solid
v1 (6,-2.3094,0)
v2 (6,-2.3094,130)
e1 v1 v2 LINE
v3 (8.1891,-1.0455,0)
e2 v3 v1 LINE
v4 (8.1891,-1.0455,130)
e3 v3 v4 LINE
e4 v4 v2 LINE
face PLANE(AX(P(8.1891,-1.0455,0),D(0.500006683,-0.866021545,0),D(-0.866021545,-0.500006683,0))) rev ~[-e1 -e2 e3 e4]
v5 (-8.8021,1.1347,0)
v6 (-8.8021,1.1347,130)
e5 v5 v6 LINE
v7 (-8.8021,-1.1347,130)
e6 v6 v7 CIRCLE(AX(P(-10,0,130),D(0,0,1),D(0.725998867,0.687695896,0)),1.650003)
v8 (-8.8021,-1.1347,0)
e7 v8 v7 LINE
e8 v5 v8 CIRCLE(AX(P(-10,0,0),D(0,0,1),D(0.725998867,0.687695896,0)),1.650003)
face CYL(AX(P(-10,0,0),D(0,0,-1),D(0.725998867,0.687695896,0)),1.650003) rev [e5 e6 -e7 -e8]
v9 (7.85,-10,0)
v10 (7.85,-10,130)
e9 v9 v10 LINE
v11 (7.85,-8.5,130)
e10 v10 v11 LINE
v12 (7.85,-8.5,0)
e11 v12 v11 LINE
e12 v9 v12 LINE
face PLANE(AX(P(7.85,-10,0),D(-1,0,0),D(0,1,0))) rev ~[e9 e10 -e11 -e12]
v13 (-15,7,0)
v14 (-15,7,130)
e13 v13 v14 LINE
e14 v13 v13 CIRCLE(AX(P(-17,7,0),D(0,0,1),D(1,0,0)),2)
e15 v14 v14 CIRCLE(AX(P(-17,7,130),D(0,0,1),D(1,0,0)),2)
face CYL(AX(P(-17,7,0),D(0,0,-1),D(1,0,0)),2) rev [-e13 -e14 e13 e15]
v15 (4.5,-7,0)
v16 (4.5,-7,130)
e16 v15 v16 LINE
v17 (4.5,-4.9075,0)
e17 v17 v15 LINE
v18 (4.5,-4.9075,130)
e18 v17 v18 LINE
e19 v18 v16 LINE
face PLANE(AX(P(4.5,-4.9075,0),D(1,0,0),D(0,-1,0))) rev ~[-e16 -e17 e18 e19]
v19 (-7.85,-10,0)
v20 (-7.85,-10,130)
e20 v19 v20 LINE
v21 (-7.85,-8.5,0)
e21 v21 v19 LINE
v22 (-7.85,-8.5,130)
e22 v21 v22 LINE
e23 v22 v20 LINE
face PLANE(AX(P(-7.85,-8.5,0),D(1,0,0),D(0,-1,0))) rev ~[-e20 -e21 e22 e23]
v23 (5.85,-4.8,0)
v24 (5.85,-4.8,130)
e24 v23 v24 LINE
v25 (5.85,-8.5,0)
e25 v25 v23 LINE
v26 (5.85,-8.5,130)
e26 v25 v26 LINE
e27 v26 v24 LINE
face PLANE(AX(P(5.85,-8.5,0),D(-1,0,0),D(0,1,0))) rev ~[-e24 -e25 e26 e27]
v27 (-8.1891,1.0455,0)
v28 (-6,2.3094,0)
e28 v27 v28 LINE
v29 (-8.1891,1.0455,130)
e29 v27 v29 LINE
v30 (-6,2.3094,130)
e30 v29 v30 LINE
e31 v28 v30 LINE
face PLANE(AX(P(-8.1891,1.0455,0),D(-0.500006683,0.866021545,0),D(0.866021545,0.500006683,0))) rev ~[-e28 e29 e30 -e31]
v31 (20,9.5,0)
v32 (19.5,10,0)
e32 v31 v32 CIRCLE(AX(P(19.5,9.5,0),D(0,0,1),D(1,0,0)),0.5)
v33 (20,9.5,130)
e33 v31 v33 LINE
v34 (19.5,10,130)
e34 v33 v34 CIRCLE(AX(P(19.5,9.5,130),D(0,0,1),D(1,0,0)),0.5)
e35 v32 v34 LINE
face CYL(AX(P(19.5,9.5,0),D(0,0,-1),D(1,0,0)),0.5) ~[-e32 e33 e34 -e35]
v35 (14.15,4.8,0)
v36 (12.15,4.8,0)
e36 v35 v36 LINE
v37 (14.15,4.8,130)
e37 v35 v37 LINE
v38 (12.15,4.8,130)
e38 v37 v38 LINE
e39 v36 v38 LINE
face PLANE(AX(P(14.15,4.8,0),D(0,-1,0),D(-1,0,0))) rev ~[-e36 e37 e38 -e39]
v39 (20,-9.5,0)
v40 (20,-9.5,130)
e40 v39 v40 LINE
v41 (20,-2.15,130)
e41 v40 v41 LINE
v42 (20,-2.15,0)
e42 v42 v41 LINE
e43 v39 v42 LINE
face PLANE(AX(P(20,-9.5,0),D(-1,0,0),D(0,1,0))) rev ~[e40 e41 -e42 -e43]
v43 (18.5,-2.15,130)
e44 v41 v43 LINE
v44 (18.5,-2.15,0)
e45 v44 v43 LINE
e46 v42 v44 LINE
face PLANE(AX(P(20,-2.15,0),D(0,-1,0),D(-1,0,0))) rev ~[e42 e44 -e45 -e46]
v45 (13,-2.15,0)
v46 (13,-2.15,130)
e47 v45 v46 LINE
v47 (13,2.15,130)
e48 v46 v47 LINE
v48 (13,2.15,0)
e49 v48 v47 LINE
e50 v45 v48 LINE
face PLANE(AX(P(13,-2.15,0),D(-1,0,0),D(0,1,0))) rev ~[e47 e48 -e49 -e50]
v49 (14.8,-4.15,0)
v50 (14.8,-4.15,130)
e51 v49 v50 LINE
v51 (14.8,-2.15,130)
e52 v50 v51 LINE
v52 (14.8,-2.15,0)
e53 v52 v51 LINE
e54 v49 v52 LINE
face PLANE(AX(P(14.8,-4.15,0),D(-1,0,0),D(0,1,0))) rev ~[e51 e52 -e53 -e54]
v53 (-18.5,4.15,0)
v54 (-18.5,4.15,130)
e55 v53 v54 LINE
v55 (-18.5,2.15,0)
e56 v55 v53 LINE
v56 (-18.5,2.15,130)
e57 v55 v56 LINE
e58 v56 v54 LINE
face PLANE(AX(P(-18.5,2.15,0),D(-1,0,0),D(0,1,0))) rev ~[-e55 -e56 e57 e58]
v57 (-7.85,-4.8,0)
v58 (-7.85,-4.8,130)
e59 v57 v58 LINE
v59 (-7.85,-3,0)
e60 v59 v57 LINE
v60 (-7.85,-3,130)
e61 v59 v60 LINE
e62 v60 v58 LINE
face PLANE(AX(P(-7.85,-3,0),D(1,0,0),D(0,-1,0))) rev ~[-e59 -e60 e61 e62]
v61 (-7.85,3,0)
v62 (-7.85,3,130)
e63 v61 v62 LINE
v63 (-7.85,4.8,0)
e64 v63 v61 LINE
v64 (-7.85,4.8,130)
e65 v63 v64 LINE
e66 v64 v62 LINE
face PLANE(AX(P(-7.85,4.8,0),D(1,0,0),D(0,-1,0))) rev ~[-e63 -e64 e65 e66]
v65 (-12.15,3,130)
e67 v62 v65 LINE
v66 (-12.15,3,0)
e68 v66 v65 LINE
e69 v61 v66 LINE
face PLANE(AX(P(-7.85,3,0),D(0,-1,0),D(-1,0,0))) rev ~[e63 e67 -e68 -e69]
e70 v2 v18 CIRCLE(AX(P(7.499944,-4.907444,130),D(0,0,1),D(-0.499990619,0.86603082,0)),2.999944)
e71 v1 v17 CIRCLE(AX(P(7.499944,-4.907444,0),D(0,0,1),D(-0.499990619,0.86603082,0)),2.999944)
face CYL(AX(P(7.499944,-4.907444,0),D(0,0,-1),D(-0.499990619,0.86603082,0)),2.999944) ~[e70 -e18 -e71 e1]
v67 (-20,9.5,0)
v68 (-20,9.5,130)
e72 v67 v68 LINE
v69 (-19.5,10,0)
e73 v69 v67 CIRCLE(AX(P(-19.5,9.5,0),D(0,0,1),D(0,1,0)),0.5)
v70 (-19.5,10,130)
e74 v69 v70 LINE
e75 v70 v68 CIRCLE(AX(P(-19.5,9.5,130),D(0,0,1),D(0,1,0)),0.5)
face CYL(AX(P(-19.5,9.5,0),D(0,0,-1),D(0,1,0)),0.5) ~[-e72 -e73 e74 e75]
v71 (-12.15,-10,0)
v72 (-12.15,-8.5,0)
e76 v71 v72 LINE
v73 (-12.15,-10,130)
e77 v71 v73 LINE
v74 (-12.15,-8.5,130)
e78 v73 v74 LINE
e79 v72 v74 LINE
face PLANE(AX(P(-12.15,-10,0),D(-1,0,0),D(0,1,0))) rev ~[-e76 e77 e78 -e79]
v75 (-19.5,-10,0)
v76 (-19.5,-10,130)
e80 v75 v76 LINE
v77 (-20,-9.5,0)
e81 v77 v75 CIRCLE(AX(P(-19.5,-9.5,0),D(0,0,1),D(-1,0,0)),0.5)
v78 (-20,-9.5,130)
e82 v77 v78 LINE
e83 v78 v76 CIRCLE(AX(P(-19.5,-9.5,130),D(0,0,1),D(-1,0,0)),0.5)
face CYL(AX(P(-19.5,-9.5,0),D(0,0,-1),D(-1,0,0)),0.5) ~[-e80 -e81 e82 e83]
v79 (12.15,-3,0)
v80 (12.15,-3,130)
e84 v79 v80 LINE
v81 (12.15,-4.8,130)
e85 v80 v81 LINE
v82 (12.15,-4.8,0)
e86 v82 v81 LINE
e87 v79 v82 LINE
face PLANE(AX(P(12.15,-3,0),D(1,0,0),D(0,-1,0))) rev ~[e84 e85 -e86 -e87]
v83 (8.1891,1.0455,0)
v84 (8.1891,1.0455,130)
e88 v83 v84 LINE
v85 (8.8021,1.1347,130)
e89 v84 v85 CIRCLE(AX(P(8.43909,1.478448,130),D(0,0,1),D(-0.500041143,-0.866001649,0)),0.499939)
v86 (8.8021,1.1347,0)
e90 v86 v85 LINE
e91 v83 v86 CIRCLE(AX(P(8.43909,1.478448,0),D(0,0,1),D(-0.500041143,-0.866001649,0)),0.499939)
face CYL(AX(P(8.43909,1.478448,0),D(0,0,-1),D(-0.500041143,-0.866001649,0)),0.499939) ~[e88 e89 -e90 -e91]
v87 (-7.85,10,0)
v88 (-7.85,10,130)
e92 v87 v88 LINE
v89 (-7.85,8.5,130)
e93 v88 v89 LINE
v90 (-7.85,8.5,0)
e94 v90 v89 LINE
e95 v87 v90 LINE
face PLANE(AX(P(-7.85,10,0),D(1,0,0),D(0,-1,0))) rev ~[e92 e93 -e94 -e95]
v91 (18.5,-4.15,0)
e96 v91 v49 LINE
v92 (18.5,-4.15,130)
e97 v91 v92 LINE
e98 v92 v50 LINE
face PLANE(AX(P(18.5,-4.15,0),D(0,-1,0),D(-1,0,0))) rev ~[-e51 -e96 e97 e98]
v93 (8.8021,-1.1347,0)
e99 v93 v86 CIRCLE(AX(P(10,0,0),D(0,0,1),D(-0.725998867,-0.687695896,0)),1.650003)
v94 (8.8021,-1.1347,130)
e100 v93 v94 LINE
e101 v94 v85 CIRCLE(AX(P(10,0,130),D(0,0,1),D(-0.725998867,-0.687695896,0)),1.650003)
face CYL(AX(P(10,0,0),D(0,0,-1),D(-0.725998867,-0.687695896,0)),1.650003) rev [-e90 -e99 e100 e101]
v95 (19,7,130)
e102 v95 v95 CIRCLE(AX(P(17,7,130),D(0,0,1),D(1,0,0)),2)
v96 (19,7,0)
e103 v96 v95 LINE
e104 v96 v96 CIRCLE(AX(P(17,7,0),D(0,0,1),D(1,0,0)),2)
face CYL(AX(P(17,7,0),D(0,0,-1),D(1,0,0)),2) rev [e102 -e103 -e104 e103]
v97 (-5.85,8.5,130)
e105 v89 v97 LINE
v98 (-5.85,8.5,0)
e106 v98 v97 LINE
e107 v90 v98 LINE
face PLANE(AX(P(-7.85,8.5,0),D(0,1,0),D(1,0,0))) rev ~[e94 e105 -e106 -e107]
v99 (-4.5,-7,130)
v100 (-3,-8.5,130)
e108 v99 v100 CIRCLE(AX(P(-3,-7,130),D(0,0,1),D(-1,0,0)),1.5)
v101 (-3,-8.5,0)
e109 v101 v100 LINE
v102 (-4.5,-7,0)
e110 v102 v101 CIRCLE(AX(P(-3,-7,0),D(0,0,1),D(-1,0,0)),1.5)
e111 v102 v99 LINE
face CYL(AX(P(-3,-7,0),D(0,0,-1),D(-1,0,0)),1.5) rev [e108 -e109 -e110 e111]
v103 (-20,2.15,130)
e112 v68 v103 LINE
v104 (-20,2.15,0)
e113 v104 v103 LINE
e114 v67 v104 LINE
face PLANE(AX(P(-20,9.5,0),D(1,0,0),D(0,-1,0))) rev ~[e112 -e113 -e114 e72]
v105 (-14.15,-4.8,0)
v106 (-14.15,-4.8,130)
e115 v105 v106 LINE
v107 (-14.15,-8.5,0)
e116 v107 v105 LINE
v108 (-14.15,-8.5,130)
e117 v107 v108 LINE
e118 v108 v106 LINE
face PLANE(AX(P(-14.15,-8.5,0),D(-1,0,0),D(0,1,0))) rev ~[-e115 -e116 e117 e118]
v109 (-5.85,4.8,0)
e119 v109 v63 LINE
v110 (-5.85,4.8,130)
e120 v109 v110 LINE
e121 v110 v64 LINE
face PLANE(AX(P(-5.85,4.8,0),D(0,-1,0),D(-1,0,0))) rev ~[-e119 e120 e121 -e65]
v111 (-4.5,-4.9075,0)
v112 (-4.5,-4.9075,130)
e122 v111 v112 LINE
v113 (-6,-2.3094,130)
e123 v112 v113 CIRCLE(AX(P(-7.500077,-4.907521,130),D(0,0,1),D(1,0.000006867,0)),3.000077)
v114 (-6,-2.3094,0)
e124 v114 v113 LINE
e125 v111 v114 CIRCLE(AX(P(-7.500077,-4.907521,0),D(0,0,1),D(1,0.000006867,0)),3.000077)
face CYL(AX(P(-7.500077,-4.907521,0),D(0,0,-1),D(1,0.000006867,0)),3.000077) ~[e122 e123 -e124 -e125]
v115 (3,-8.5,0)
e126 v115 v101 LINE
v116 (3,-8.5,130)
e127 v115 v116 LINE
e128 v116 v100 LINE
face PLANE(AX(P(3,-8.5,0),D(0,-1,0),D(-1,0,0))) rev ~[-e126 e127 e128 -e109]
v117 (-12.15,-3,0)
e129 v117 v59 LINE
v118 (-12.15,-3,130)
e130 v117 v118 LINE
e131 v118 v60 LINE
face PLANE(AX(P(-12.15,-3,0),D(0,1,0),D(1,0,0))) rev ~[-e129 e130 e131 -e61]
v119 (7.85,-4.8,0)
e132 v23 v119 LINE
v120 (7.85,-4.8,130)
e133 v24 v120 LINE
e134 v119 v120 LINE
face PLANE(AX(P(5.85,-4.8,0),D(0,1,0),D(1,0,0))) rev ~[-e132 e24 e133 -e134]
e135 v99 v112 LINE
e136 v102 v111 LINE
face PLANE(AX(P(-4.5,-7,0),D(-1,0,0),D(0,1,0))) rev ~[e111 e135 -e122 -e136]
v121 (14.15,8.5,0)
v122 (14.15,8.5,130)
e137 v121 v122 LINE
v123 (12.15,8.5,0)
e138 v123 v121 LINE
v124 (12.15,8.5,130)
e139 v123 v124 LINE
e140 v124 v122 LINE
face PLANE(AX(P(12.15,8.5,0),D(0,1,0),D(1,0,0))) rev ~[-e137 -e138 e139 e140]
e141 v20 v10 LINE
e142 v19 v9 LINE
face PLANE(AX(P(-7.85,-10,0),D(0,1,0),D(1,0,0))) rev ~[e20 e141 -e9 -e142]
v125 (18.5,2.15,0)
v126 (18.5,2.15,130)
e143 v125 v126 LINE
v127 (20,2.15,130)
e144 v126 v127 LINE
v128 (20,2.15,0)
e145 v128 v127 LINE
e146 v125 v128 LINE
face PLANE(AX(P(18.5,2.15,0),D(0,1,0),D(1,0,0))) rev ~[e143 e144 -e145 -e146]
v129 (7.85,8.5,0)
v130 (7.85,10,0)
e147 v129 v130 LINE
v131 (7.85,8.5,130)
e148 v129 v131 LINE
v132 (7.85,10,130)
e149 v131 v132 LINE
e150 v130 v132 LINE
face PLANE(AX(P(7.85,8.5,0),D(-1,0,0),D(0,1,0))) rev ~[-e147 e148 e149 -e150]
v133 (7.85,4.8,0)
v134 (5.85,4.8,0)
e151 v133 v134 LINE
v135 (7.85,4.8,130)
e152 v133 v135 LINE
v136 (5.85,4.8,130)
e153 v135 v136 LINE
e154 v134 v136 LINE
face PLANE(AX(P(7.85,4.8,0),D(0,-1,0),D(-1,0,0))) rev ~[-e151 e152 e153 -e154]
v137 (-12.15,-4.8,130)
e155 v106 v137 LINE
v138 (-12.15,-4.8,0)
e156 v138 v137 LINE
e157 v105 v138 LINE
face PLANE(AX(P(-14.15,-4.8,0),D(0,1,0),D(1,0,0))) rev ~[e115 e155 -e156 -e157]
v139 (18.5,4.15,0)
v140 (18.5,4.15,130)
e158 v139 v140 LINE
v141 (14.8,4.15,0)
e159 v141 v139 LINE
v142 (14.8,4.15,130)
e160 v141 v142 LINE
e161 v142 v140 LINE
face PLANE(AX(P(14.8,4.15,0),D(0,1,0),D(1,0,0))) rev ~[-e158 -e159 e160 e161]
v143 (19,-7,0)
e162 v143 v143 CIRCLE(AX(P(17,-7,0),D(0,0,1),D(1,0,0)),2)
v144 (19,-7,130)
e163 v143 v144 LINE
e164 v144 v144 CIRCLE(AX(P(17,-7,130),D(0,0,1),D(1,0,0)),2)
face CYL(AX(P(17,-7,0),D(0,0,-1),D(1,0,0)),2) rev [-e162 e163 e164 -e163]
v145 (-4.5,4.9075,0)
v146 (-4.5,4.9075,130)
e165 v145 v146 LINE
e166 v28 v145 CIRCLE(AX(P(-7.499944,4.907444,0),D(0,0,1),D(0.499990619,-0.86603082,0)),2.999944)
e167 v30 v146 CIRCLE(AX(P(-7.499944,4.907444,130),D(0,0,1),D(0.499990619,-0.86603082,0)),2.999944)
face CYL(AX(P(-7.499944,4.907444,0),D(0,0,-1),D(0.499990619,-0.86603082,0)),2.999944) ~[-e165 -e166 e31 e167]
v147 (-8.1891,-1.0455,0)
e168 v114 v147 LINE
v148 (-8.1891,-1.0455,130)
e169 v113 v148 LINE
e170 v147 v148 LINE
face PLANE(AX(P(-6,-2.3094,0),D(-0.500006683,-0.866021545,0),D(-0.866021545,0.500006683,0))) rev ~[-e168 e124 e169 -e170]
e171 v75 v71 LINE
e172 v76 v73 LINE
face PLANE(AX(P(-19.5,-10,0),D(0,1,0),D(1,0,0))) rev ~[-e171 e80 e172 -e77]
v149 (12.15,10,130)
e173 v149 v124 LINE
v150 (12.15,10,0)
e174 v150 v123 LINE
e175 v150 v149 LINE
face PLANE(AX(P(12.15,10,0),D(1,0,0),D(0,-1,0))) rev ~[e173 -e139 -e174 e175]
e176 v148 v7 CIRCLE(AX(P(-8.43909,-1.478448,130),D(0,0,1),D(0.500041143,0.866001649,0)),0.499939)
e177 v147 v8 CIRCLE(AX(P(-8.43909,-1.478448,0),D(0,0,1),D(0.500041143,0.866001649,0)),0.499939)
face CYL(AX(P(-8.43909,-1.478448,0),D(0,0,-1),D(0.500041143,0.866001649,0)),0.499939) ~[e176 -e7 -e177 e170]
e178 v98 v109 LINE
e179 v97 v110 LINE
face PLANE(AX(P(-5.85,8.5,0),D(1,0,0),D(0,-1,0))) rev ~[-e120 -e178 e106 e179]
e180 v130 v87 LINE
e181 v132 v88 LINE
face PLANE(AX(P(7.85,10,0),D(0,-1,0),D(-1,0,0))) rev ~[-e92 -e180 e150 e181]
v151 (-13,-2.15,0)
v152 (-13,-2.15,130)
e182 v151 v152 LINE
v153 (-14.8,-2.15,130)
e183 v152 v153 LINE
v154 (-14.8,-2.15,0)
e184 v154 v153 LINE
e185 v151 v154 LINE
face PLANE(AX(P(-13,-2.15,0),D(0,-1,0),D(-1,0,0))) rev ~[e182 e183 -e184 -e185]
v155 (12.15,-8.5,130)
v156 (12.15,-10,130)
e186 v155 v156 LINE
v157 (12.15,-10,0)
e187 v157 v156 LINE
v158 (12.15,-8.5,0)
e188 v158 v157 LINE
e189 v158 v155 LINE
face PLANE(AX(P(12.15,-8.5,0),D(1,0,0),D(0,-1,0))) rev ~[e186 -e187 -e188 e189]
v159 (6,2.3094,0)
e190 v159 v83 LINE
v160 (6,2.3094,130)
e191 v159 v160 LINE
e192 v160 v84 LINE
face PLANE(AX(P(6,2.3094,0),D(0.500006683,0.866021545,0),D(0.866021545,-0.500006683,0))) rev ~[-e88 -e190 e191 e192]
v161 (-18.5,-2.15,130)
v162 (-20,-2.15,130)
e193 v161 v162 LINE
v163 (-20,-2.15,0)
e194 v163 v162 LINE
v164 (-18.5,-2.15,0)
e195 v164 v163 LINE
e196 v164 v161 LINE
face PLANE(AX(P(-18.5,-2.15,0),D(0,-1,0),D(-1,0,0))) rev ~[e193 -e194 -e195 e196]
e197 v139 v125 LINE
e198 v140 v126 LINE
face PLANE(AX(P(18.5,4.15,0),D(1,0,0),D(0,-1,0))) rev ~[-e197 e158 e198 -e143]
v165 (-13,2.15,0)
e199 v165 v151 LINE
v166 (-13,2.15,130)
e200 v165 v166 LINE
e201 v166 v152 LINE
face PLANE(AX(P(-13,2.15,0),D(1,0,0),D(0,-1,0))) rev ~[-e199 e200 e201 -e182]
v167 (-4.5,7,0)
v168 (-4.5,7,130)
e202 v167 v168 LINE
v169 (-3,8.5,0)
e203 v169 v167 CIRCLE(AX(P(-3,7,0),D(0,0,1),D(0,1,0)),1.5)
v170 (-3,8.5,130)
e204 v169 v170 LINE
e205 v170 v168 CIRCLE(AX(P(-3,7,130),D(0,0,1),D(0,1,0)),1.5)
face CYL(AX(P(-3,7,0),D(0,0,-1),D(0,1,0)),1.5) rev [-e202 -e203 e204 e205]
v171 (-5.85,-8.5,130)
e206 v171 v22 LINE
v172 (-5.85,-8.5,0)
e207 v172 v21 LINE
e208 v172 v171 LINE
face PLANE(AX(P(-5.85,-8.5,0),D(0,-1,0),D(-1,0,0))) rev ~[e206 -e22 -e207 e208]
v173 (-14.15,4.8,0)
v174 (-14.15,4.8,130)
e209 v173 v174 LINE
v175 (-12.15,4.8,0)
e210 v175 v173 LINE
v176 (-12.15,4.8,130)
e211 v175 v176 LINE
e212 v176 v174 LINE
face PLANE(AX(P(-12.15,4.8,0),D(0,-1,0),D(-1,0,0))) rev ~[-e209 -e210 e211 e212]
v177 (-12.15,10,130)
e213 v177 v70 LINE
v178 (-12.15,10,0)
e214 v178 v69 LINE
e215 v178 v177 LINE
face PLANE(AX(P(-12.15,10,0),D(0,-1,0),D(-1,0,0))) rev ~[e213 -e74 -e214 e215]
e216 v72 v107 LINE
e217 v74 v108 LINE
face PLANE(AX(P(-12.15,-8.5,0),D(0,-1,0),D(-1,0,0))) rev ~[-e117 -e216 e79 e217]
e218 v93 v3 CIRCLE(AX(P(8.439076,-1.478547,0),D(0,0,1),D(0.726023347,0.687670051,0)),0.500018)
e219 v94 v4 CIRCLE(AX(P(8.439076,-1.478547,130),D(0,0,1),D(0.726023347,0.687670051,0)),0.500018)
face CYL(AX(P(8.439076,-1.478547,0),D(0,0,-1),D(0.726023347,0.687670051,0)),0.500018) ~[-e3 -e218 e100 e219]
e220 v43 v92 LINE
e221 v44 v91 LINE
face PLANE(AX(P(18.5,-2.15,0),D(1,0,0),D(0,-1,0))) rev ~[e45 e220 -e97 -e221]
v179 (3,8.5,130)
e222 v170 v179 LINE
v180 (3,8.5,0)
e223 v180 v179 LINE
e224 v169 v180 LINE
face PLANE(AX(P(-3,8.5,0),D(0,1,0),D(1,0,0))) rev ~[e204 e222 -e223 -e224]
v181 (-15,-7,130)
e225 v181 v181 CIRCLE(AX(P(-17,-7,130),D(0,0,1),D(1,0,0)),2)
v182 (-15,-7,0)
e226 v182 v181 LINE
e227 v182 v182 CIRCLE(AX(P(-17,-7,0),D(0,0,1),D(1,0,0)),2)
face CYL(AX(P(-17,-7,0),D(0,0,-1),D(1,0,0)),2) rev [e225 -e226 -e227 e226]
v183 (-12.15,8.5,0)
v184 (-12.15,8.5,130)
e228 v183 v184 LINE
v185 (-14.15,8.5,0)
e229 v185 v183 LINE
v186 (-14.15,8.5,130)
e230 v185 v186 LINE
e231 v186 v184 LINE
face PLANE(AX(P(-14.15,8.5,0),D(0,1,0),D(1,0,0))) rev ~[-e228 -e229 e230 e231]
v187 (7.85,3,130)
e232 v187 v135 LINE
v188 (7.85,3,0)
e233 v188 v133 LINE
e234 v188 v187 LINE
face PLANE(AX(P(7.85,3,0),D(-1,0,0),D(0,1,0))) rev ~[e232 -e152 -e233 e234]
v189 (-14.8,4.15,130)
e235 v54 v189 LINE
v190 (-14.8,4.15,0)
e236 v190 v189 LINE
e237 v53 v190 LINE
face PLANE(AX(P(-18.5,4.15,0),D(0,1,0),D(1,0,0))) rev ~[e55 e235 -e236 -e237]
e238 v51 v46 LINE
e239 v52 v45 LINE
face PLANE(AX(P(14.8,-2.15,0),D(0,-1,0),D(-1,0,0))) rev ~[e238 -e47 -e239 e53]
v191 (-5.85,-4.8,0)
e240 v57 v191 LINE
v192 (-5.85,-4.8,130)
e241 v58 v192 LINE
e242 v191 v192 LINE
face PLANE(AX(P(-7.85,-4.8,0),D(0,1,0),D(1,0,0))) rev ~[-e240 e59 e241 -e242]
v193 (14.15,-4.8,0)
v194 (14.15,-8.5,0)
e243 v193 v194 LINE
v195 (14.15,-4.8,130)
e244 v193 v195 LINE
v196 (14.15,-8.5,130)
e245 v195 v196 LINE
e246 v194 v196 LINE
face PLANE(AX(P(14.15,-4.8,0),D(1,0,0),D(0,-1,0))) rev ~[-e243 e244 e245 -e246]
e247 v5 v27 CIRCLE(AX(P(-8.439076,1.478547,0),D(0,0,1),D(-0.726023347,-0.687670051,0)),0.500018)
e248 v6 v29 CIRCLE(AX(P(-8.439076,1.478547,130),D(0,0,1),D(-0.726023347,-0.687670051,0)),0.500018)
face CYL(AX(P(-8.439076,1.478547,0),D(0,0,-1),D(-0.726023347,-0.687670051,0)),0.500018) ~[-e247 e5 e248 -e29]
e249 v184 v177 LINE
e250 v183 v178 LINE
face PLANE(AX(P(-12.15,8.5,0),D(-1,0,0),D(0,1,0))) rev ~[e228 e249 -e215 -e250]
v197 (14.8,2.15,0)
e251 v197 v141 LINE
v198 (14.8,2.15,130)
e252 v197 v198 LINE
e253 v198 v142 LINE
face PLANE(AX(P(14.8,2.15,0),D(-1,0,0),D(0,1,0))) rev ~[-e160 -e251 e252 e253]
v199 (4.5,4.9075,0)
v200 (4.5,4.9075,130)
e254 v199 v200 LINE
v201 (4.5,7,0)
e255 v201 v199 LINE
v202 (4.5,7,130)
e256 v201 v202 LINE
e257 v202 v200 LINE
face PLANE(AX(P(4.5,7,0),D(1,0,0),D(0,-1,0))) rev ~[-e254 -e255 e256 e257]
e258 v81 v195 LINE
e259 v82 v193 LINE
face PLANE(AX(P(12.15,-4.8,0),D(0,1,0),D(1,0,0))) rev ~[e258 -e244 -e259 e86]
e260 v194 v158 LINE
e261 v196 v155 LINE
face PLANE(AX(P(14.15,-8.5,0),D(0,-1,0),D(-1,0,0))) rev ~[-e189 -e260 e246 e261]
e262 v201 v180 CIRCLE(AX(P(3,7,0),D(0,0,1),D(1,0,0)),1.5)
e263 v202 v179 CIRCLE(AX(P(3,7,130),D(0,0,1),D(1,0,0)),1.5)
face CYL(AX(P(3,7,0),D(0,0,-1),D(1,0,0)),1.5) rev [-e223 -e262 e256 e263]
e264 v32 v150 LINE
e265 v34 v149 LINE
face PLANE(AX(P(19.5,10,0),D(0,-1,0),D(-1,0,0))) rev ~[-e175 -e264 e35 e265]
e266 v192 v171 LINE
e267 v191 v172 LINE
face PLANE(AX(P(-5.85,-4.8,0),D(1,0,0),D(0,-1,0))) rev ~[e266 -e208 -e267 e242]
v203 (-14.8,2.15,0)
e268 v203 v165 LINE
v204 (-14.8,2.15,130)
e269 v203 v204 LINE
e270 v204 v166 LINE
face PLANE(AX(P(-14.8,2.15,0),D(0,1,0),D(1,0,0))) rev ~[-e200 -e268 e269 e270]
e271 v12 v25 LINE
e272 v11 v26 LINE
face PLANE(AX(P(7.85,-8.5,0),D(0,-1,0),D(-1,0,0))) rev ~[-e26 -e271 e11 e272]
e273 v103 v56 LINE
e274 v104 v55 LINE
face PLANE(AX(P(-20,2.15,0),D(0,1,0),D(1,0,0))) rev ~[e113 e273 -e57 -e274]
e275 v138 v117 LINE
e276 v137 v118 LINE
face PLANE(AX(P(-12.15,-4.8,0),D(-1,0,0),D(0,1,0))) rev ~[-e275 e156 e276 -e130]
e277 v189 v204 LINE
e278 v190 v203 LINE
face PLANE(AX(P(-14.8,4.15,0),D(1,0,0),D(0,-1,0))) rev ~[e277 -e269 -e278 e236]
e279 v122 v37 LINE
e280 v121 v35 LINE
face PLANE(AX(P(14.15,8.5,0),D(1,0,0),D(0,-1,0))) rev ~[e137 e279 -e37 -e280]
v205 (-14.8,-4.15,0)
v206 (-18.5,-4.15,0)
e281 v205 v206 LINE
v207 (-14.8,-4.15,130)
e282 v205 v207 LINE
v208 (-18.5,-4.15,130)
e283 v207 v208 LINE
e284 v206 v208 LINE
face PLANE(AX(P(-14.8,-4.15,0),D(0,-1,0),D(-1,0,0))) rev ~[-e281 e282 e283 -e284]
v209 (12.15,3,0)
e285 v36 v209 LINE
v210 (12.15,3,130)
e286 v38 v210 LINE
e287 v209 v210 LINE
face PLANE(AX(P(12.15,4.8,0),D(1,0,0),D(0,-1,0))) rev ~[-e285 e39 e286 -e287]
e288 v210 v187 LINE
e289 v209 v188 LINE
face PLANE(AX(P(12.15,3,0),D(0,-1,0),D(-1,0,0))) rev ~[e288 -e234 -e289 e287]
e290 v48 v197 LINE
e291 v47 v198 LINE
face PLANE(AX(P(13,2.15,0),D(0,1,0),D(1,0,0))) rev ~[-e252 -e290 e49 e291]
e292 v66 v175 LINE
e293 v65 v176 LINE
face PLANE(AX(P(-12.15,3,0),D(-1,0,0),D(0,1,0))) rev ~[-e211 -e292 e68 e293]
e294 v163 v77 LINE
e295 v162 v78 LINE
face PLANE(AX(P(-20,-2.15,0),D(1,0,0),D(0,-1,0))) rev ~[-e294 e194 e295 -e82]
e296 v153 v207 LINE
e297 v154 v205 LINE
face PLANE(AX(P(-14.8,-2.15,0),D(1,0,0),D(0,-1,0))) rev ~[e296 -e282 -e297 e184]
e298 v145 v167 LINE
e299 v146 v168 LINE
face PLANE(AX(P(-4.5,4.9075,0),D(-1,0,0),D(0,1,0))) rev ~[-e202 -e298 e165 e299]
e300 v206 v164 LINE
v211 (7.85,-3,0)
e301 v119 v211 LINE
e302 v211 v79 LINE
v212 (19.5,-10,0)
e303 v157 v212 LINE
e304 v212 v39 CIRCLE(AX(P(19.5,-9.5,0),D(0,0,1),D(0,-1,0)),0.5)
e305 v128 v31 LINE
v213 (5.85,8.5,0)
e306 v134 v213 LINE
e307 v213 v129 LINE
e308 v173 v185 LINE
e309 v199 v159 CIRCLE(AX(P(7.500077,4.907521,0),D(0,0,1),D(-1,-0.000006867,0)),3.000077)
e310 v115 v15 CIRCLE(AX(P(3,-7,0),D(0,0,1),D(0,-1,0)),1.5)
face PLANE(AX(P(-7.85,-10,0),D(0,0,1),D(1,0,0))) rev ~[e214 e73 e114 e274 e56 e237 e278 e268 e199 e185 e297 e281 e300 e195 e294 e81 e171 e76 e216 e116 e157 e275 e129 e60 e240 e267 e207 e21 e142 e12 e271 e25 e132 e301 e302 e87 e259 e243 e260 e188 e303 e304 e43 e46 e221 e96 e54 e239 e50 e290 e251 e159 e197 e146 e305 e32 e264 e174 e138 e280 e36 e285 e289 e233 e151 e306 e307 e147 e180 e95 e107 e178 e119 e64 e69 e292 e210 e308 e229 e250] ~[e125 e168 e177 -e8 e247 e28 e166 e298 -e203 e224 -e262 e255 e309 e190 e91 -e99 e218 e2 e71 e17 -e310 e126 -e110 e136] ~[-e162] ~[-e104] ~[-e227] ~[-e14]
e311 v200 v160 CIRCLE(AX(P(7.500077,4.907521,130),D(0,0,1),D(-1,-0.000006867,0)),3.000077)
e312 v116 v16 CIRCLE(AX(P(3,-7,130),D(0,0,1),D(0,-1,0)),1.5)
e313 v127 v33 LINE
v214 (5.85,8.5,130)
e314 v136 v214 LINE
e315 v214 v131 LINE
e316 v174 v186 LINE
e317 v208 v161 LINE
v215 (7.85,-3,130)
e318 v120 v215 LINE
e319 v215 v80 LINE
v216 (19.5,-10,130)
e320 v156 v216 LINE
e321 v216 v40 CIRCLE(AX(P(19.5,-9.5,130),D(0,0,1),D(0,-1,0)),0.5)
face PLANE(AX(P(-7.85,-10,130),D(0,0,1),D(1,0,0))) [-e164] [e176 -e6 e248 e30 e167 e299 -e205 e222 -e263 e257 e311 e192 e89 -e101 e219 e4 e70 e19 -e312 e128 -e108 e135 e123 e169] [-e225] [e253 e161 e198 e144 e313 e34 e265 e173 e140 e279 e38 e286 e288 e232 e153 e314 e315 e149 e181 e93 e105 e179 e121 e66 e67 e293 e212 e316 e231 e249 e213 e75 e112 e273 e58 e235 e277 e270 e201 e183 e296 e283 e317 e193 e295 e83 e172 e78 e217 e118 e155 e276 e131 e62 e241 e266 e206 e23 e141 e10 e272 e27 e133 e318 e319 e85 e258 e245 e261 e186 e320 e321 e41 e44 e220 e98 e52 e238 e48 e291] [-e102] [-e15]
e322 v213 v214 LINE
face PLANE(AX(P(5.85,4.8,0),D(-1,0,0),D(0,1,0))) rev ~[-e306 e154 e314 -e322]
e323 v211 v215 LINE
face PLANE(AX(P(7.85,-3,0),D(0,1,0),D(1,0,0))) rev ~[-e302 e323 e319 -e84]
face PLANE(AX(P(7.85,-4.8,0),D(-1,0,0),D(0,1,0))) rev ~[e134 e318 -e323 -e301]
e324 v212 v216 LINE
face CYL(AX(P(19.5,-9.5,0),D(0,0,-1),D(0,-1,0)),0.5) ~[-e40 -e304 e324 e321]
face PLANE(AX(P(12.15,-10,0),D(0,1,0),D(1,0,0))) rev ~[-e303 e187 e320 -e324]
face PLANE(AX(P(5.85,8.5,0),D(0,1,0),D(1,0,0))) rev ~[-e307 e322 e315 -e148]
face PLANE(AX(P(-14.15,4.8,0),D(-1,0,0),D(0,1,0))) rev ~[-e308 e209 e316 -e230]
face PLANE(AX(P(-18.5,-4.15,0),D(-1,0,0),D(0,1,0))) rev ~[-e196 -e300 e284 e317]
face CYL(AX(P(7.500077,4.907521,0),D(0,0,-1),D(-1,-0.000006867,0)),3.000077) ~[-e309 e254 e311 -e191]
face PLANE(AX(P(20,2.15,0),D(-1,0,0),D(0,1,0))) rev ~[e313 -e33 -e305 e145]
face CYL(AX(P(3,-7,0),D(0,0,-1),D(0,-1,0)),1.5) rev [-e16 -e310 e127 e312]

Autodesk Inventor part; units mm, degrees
ref_plane "YZ Plane" through (0, 0, 0) normal (1, 0, 0) x (0, 1, 0)
ref_plane "XZ Plane" through (0, 0, 0) normal (0, 1, 0) x (-1, 0, 0)
ref_plane "XY Plane" through (0, 0, 0) normal (0, 0, 1) x (1, 0, 0)
sketch "スケッチ1" plane through (-7.85, -10, 0) normal (0, 0, 1) x (1, 0, 0)
  line L0 (-6.3, 14.8) -> (-6.3, 18.5) projected
  line L1 (0, 13) -> (-4.3, 13) projected
  line L2 (-4.3, 13) -> (-4.3, 14.8) projected
  line L3 (-4.3, 14.8) -> (-6.3, 14.8) projected
  line L4 (-6.3, 14.8) -> (-6.3, 18.5) projected
  line L5 (-6.3, 18.5) -> (-4.3, 18.5) projected
  line L6 (-4.3, 18.5) -> (-4.3, 20) projected
  line L7 (-4.3, 20) -> (-11.65, 20) projected
  arc A0 (-11.65, 20) -> (-12.15, 19.5) centre (-11.65, 19.5) ccw projected
  line L8 (-12.15, 19.5) -> (-12.15, 12.15) projected
  line L9 (-12.15, 12.15) -> (-10.65, 12.15) projected
  line L10 (-10.65, 12.15) -> (-10.65, 14.15) projected
  line L11 (-10.65, 14.15) -> (-6.95, 14.15) projected
  line L12 (-6.95, 14.15) -> (-6.95, 12.15) projected
  line L13 (-6.95, 12.15) -> (-5.15, 12.15) projected
  line L14 (-5.15, 12.15) -> (-5.15, 7.85) projected
  line L15 (-5.15, 7.85) -> (-6.95, 7.85) projected
  line L16 (-6.95, 7.85) -> (-6.95, 5.85) projected
  line L17 (-6.95, 5.85) -> (-10.65, 5.85) projected
  line L18 (-10.65, 5.85) -> (-10.65, 7.85) projected
  line L19 (-10.65, 7.85) -> (-12.15, 7.85) projected
  line L20 (-12.15, 7.85) -> (-12.15, 0.5) projected
  arc A1 (-12.15, 0.5) -> (-11.65, 0) centre (-11.65, 0.5) ccw projected
  line L21 (-11.65, 0) -> (-4.3, 0) projected
  line L22 (-4.3, 0) -> (-4.3, 1.5) projected
  line L23 (-4.3, 1.5) -> (-6.3, 1.5) projected
  line L24 (-6.3, 1.5) -> (-6.3, 5.2) projected
  line L25 (-6.3, 5.2) -> (-4.3, 5.2) projected
  line L26 (-4.3, 5.2) -> (-4.3, 7) projected
  line L27 (-4.3, 7) -> (0, 7) projected
  line L28 (0, 7) -> (0, 5.2) projected
  line L29 (0, 5.2) -> (2, 5.2) projected
  line L30 (2, 5.2) -> (2, 1.5) projected
  line L31 (2, 1.5) -> (0, 1.5) projected
  line L32 (0, 1.5) -> (0, 0) projected
  line L33 (0, 0) -> (15.7, 0) projected
  line L34 (15.7, 0) -> (15.7, 1.5) projected
  line L35 (15.7, 1.5) -> (13.7, 1.5) projected
  line L36 (13.7, 1.5) -> (13.7, 5.2) projected
  line L37 (13.7, 5.2) -> (15.7, 5.2) projected
  line L38 (15.7, 5.2) -> (15.7, 7) projected
  line L39 (15.7, 7) -> (20, 7) projected
  line L40 (20, 7) -> (20, 5.2) projected
  line L41 (20, 5.2) -> (22, 5.2) projected
  line L42 (22, 5.2) -> (22, 1.5) projected
  line L43 (22, 1.5) -> (20, 1.5) projected
  line L44 (20, 1.5) -> (20, 0) projected
  line L45 (20, 0) -> (27.35, 0) projected
  arc A2 (27.35, 0) -> (27.85, 0.5) centre (27.35, 0.5) ccw projected
  line L46 (27.85, 0.5) -> (27.85, 7.85) projected
  line L47 (27.85, 7.85) -> (26.35, 7.85) projected
  line L48 (26.35, 7.85) -> (26.35, 5.85) projected
  line L49 (26.35, 5.85) -> (22.65, 5.85) projected
  line L50 (22.65, 5.85) -> (22.65, 7.85) projected
  line L51 (22.65, 7.85) -> (20.85, 7.85) projected
  line L52 (20.85, 7.85) -> (20.85, 12.15) projected
  line L53 (20.85, 12.15) -> (22.65, 12.15) projected
  line L54 (22.65, 12.15) -> (22.65, 14.15) projected
  line L55 (22.65, 14.15) -> (26.35, 14.15) projected
  line L56 (26.35, 14.15) -> (26.35, 12.15) projected
  line L57 (26.35, 12.15) -> (27.85, 12.15) projected
  line L58 (27.85, 12.15) -> (27.85, 19.5) projected
  arc A3 (27.85, 19.5) -> (27.35, 20) centre (27.35, 19.5) ccw projected
  line L59 (27.35, 20) -> (20, 20) projected
  line L60 (20, 20) -> (20, 18.5) projected
  line L61 (20, 18.5) -> (22, 18.5) projected
  line L62 (22, 18.5) -> (22, 14.8) projected
  line L63 (22, 14.8) -> (20, 14.8) projected
  line L64 (20, 14.8) -> (20, 13) projected
  line L65 (20, 13) -> (15.7, 13) projected
  line L66 (15.7, 13) -> (15.7, 14.8) projected
  line L67 (15.7, 14.8) -> (13.7, 14.8) projected
  line L68 (13.7, 14.8) -> (13.7, 18.5) projected
  line L69 (13.7, 18.5) -> (15.7, 18.5) projected
  line L70 (15.7, 18.5) -> (15.7, 20) projected
  line L71 (15.7, 20) -> (0, 20) projected
  line L72 (0, 20) -> (0, 18.5) projected
  line L73 (0, 18.5) -> (2, 18.5) projected
  line L74 (2, 18.5) -> (2, 14.8) projected
  line L75 (2, 14.8) -> (0, 14.8) projected
  line L76 (0, 14.8) -> (0, 13) projected
  line L77 (12.35, 17) -> (12.35, 14.9075) projected
  arc A4 (12.35, 14.9075) -> (13.85, 12.3094) centre (15.35, 14.9075) ccw projected
  line L78 (13.85, 12.3094) -> (16.0391, 11.0455) projected
  arc A5 (16.0391, 11.0455) -> (16.6521, 11.1347) centre (16.2891, 11.4785) ccw projected
  arc A6 (16.6521, 8.8653) -> (16.6521, 11.1347) centre (17.85, 10) ccw projected
  arc A7 (16.6521, 8.8653) -> (16.0391, 8.9545) centre (16.2891, 8.5215) ccw projected
  line L79 (16.0391, 8.9545) -> (13.85, 7.6906) projected
  arc A8 (13.85, 7.6906) -> (12.35, 5.0925) centre (15.35, 5.0925) ccw projected
  line L80 (12.35, 5.0925) -> (12.35, 3) projected
  arc A9 (10.85, 1.5) -> (12.35, 3) centre (10.85, 3) ccw projected
  line L81 (10.85, 1.5) -> (4.85, 1.5) projected
  arc A10 (3.35, 3) -> (4.85, 1.5) centre (4.85, 3) ccw projected
  line L82 (3.35, 3) -> (3.35, 5.0925) projected
  arc A11 (3.35, 5.0925) -> (1.85, 7.6906) centre (0.35, 5.0925) ccw projected
  line L83 (1.85, 7.6906) -> (-0.3391, 8.9545) projected
  arc A12 (-0.3391, 8.9545) -> (-0.9521, 8.8653) centre (-0.5891, 8.5215) ccw projected
  arc A13 (-0.9521, 11.1347) -> (-0.9521, 8.8653) centre (-2.15, 10) ccw projected
  arc A14 (-0.9521, 11.1347) -> (-0.3391, 11.0455) centre (-0.5891, 11.4785) ccw projected
  line L84 (-0.3391, 11.0455) -> (1.85, 12.3094) projected
  arc A15 (1.85, 12.3094) -> (3.35, 14.9075) centre (0.35, 14.9075) ccw projected
  line L85 (3.35, 14.9075) -> (3.35, 17) projected
  arc A16 (4.85, 18.5) -> (3.35, 17) centre (4.85, 17) ccw projected
  line L86 (4.85, 18.5) -> (10.85, 18.5) projected
  arc A17 (12.35, 17) -> (10.85, 18.5) centre (10.85, 17) ccw projected
  circle A18 centre (24.85, 3) radius 2 projected
  circle A19 centre (-9.15, 3) radius 2 projected
  circle A20 centre (-9.15, 17) radius 2 projected
  circle A21 centre (24.85, 17) radius 2 projected
  point P0 (7.85, 10)
extrude "押し出し1" add sketch "スケッチ1" along normal blind 130
equation "\"d0\" = L"
equation "\"L\" = 130"
properties part number "AFS-2040-4-130" material "アルミニウム 6061"
